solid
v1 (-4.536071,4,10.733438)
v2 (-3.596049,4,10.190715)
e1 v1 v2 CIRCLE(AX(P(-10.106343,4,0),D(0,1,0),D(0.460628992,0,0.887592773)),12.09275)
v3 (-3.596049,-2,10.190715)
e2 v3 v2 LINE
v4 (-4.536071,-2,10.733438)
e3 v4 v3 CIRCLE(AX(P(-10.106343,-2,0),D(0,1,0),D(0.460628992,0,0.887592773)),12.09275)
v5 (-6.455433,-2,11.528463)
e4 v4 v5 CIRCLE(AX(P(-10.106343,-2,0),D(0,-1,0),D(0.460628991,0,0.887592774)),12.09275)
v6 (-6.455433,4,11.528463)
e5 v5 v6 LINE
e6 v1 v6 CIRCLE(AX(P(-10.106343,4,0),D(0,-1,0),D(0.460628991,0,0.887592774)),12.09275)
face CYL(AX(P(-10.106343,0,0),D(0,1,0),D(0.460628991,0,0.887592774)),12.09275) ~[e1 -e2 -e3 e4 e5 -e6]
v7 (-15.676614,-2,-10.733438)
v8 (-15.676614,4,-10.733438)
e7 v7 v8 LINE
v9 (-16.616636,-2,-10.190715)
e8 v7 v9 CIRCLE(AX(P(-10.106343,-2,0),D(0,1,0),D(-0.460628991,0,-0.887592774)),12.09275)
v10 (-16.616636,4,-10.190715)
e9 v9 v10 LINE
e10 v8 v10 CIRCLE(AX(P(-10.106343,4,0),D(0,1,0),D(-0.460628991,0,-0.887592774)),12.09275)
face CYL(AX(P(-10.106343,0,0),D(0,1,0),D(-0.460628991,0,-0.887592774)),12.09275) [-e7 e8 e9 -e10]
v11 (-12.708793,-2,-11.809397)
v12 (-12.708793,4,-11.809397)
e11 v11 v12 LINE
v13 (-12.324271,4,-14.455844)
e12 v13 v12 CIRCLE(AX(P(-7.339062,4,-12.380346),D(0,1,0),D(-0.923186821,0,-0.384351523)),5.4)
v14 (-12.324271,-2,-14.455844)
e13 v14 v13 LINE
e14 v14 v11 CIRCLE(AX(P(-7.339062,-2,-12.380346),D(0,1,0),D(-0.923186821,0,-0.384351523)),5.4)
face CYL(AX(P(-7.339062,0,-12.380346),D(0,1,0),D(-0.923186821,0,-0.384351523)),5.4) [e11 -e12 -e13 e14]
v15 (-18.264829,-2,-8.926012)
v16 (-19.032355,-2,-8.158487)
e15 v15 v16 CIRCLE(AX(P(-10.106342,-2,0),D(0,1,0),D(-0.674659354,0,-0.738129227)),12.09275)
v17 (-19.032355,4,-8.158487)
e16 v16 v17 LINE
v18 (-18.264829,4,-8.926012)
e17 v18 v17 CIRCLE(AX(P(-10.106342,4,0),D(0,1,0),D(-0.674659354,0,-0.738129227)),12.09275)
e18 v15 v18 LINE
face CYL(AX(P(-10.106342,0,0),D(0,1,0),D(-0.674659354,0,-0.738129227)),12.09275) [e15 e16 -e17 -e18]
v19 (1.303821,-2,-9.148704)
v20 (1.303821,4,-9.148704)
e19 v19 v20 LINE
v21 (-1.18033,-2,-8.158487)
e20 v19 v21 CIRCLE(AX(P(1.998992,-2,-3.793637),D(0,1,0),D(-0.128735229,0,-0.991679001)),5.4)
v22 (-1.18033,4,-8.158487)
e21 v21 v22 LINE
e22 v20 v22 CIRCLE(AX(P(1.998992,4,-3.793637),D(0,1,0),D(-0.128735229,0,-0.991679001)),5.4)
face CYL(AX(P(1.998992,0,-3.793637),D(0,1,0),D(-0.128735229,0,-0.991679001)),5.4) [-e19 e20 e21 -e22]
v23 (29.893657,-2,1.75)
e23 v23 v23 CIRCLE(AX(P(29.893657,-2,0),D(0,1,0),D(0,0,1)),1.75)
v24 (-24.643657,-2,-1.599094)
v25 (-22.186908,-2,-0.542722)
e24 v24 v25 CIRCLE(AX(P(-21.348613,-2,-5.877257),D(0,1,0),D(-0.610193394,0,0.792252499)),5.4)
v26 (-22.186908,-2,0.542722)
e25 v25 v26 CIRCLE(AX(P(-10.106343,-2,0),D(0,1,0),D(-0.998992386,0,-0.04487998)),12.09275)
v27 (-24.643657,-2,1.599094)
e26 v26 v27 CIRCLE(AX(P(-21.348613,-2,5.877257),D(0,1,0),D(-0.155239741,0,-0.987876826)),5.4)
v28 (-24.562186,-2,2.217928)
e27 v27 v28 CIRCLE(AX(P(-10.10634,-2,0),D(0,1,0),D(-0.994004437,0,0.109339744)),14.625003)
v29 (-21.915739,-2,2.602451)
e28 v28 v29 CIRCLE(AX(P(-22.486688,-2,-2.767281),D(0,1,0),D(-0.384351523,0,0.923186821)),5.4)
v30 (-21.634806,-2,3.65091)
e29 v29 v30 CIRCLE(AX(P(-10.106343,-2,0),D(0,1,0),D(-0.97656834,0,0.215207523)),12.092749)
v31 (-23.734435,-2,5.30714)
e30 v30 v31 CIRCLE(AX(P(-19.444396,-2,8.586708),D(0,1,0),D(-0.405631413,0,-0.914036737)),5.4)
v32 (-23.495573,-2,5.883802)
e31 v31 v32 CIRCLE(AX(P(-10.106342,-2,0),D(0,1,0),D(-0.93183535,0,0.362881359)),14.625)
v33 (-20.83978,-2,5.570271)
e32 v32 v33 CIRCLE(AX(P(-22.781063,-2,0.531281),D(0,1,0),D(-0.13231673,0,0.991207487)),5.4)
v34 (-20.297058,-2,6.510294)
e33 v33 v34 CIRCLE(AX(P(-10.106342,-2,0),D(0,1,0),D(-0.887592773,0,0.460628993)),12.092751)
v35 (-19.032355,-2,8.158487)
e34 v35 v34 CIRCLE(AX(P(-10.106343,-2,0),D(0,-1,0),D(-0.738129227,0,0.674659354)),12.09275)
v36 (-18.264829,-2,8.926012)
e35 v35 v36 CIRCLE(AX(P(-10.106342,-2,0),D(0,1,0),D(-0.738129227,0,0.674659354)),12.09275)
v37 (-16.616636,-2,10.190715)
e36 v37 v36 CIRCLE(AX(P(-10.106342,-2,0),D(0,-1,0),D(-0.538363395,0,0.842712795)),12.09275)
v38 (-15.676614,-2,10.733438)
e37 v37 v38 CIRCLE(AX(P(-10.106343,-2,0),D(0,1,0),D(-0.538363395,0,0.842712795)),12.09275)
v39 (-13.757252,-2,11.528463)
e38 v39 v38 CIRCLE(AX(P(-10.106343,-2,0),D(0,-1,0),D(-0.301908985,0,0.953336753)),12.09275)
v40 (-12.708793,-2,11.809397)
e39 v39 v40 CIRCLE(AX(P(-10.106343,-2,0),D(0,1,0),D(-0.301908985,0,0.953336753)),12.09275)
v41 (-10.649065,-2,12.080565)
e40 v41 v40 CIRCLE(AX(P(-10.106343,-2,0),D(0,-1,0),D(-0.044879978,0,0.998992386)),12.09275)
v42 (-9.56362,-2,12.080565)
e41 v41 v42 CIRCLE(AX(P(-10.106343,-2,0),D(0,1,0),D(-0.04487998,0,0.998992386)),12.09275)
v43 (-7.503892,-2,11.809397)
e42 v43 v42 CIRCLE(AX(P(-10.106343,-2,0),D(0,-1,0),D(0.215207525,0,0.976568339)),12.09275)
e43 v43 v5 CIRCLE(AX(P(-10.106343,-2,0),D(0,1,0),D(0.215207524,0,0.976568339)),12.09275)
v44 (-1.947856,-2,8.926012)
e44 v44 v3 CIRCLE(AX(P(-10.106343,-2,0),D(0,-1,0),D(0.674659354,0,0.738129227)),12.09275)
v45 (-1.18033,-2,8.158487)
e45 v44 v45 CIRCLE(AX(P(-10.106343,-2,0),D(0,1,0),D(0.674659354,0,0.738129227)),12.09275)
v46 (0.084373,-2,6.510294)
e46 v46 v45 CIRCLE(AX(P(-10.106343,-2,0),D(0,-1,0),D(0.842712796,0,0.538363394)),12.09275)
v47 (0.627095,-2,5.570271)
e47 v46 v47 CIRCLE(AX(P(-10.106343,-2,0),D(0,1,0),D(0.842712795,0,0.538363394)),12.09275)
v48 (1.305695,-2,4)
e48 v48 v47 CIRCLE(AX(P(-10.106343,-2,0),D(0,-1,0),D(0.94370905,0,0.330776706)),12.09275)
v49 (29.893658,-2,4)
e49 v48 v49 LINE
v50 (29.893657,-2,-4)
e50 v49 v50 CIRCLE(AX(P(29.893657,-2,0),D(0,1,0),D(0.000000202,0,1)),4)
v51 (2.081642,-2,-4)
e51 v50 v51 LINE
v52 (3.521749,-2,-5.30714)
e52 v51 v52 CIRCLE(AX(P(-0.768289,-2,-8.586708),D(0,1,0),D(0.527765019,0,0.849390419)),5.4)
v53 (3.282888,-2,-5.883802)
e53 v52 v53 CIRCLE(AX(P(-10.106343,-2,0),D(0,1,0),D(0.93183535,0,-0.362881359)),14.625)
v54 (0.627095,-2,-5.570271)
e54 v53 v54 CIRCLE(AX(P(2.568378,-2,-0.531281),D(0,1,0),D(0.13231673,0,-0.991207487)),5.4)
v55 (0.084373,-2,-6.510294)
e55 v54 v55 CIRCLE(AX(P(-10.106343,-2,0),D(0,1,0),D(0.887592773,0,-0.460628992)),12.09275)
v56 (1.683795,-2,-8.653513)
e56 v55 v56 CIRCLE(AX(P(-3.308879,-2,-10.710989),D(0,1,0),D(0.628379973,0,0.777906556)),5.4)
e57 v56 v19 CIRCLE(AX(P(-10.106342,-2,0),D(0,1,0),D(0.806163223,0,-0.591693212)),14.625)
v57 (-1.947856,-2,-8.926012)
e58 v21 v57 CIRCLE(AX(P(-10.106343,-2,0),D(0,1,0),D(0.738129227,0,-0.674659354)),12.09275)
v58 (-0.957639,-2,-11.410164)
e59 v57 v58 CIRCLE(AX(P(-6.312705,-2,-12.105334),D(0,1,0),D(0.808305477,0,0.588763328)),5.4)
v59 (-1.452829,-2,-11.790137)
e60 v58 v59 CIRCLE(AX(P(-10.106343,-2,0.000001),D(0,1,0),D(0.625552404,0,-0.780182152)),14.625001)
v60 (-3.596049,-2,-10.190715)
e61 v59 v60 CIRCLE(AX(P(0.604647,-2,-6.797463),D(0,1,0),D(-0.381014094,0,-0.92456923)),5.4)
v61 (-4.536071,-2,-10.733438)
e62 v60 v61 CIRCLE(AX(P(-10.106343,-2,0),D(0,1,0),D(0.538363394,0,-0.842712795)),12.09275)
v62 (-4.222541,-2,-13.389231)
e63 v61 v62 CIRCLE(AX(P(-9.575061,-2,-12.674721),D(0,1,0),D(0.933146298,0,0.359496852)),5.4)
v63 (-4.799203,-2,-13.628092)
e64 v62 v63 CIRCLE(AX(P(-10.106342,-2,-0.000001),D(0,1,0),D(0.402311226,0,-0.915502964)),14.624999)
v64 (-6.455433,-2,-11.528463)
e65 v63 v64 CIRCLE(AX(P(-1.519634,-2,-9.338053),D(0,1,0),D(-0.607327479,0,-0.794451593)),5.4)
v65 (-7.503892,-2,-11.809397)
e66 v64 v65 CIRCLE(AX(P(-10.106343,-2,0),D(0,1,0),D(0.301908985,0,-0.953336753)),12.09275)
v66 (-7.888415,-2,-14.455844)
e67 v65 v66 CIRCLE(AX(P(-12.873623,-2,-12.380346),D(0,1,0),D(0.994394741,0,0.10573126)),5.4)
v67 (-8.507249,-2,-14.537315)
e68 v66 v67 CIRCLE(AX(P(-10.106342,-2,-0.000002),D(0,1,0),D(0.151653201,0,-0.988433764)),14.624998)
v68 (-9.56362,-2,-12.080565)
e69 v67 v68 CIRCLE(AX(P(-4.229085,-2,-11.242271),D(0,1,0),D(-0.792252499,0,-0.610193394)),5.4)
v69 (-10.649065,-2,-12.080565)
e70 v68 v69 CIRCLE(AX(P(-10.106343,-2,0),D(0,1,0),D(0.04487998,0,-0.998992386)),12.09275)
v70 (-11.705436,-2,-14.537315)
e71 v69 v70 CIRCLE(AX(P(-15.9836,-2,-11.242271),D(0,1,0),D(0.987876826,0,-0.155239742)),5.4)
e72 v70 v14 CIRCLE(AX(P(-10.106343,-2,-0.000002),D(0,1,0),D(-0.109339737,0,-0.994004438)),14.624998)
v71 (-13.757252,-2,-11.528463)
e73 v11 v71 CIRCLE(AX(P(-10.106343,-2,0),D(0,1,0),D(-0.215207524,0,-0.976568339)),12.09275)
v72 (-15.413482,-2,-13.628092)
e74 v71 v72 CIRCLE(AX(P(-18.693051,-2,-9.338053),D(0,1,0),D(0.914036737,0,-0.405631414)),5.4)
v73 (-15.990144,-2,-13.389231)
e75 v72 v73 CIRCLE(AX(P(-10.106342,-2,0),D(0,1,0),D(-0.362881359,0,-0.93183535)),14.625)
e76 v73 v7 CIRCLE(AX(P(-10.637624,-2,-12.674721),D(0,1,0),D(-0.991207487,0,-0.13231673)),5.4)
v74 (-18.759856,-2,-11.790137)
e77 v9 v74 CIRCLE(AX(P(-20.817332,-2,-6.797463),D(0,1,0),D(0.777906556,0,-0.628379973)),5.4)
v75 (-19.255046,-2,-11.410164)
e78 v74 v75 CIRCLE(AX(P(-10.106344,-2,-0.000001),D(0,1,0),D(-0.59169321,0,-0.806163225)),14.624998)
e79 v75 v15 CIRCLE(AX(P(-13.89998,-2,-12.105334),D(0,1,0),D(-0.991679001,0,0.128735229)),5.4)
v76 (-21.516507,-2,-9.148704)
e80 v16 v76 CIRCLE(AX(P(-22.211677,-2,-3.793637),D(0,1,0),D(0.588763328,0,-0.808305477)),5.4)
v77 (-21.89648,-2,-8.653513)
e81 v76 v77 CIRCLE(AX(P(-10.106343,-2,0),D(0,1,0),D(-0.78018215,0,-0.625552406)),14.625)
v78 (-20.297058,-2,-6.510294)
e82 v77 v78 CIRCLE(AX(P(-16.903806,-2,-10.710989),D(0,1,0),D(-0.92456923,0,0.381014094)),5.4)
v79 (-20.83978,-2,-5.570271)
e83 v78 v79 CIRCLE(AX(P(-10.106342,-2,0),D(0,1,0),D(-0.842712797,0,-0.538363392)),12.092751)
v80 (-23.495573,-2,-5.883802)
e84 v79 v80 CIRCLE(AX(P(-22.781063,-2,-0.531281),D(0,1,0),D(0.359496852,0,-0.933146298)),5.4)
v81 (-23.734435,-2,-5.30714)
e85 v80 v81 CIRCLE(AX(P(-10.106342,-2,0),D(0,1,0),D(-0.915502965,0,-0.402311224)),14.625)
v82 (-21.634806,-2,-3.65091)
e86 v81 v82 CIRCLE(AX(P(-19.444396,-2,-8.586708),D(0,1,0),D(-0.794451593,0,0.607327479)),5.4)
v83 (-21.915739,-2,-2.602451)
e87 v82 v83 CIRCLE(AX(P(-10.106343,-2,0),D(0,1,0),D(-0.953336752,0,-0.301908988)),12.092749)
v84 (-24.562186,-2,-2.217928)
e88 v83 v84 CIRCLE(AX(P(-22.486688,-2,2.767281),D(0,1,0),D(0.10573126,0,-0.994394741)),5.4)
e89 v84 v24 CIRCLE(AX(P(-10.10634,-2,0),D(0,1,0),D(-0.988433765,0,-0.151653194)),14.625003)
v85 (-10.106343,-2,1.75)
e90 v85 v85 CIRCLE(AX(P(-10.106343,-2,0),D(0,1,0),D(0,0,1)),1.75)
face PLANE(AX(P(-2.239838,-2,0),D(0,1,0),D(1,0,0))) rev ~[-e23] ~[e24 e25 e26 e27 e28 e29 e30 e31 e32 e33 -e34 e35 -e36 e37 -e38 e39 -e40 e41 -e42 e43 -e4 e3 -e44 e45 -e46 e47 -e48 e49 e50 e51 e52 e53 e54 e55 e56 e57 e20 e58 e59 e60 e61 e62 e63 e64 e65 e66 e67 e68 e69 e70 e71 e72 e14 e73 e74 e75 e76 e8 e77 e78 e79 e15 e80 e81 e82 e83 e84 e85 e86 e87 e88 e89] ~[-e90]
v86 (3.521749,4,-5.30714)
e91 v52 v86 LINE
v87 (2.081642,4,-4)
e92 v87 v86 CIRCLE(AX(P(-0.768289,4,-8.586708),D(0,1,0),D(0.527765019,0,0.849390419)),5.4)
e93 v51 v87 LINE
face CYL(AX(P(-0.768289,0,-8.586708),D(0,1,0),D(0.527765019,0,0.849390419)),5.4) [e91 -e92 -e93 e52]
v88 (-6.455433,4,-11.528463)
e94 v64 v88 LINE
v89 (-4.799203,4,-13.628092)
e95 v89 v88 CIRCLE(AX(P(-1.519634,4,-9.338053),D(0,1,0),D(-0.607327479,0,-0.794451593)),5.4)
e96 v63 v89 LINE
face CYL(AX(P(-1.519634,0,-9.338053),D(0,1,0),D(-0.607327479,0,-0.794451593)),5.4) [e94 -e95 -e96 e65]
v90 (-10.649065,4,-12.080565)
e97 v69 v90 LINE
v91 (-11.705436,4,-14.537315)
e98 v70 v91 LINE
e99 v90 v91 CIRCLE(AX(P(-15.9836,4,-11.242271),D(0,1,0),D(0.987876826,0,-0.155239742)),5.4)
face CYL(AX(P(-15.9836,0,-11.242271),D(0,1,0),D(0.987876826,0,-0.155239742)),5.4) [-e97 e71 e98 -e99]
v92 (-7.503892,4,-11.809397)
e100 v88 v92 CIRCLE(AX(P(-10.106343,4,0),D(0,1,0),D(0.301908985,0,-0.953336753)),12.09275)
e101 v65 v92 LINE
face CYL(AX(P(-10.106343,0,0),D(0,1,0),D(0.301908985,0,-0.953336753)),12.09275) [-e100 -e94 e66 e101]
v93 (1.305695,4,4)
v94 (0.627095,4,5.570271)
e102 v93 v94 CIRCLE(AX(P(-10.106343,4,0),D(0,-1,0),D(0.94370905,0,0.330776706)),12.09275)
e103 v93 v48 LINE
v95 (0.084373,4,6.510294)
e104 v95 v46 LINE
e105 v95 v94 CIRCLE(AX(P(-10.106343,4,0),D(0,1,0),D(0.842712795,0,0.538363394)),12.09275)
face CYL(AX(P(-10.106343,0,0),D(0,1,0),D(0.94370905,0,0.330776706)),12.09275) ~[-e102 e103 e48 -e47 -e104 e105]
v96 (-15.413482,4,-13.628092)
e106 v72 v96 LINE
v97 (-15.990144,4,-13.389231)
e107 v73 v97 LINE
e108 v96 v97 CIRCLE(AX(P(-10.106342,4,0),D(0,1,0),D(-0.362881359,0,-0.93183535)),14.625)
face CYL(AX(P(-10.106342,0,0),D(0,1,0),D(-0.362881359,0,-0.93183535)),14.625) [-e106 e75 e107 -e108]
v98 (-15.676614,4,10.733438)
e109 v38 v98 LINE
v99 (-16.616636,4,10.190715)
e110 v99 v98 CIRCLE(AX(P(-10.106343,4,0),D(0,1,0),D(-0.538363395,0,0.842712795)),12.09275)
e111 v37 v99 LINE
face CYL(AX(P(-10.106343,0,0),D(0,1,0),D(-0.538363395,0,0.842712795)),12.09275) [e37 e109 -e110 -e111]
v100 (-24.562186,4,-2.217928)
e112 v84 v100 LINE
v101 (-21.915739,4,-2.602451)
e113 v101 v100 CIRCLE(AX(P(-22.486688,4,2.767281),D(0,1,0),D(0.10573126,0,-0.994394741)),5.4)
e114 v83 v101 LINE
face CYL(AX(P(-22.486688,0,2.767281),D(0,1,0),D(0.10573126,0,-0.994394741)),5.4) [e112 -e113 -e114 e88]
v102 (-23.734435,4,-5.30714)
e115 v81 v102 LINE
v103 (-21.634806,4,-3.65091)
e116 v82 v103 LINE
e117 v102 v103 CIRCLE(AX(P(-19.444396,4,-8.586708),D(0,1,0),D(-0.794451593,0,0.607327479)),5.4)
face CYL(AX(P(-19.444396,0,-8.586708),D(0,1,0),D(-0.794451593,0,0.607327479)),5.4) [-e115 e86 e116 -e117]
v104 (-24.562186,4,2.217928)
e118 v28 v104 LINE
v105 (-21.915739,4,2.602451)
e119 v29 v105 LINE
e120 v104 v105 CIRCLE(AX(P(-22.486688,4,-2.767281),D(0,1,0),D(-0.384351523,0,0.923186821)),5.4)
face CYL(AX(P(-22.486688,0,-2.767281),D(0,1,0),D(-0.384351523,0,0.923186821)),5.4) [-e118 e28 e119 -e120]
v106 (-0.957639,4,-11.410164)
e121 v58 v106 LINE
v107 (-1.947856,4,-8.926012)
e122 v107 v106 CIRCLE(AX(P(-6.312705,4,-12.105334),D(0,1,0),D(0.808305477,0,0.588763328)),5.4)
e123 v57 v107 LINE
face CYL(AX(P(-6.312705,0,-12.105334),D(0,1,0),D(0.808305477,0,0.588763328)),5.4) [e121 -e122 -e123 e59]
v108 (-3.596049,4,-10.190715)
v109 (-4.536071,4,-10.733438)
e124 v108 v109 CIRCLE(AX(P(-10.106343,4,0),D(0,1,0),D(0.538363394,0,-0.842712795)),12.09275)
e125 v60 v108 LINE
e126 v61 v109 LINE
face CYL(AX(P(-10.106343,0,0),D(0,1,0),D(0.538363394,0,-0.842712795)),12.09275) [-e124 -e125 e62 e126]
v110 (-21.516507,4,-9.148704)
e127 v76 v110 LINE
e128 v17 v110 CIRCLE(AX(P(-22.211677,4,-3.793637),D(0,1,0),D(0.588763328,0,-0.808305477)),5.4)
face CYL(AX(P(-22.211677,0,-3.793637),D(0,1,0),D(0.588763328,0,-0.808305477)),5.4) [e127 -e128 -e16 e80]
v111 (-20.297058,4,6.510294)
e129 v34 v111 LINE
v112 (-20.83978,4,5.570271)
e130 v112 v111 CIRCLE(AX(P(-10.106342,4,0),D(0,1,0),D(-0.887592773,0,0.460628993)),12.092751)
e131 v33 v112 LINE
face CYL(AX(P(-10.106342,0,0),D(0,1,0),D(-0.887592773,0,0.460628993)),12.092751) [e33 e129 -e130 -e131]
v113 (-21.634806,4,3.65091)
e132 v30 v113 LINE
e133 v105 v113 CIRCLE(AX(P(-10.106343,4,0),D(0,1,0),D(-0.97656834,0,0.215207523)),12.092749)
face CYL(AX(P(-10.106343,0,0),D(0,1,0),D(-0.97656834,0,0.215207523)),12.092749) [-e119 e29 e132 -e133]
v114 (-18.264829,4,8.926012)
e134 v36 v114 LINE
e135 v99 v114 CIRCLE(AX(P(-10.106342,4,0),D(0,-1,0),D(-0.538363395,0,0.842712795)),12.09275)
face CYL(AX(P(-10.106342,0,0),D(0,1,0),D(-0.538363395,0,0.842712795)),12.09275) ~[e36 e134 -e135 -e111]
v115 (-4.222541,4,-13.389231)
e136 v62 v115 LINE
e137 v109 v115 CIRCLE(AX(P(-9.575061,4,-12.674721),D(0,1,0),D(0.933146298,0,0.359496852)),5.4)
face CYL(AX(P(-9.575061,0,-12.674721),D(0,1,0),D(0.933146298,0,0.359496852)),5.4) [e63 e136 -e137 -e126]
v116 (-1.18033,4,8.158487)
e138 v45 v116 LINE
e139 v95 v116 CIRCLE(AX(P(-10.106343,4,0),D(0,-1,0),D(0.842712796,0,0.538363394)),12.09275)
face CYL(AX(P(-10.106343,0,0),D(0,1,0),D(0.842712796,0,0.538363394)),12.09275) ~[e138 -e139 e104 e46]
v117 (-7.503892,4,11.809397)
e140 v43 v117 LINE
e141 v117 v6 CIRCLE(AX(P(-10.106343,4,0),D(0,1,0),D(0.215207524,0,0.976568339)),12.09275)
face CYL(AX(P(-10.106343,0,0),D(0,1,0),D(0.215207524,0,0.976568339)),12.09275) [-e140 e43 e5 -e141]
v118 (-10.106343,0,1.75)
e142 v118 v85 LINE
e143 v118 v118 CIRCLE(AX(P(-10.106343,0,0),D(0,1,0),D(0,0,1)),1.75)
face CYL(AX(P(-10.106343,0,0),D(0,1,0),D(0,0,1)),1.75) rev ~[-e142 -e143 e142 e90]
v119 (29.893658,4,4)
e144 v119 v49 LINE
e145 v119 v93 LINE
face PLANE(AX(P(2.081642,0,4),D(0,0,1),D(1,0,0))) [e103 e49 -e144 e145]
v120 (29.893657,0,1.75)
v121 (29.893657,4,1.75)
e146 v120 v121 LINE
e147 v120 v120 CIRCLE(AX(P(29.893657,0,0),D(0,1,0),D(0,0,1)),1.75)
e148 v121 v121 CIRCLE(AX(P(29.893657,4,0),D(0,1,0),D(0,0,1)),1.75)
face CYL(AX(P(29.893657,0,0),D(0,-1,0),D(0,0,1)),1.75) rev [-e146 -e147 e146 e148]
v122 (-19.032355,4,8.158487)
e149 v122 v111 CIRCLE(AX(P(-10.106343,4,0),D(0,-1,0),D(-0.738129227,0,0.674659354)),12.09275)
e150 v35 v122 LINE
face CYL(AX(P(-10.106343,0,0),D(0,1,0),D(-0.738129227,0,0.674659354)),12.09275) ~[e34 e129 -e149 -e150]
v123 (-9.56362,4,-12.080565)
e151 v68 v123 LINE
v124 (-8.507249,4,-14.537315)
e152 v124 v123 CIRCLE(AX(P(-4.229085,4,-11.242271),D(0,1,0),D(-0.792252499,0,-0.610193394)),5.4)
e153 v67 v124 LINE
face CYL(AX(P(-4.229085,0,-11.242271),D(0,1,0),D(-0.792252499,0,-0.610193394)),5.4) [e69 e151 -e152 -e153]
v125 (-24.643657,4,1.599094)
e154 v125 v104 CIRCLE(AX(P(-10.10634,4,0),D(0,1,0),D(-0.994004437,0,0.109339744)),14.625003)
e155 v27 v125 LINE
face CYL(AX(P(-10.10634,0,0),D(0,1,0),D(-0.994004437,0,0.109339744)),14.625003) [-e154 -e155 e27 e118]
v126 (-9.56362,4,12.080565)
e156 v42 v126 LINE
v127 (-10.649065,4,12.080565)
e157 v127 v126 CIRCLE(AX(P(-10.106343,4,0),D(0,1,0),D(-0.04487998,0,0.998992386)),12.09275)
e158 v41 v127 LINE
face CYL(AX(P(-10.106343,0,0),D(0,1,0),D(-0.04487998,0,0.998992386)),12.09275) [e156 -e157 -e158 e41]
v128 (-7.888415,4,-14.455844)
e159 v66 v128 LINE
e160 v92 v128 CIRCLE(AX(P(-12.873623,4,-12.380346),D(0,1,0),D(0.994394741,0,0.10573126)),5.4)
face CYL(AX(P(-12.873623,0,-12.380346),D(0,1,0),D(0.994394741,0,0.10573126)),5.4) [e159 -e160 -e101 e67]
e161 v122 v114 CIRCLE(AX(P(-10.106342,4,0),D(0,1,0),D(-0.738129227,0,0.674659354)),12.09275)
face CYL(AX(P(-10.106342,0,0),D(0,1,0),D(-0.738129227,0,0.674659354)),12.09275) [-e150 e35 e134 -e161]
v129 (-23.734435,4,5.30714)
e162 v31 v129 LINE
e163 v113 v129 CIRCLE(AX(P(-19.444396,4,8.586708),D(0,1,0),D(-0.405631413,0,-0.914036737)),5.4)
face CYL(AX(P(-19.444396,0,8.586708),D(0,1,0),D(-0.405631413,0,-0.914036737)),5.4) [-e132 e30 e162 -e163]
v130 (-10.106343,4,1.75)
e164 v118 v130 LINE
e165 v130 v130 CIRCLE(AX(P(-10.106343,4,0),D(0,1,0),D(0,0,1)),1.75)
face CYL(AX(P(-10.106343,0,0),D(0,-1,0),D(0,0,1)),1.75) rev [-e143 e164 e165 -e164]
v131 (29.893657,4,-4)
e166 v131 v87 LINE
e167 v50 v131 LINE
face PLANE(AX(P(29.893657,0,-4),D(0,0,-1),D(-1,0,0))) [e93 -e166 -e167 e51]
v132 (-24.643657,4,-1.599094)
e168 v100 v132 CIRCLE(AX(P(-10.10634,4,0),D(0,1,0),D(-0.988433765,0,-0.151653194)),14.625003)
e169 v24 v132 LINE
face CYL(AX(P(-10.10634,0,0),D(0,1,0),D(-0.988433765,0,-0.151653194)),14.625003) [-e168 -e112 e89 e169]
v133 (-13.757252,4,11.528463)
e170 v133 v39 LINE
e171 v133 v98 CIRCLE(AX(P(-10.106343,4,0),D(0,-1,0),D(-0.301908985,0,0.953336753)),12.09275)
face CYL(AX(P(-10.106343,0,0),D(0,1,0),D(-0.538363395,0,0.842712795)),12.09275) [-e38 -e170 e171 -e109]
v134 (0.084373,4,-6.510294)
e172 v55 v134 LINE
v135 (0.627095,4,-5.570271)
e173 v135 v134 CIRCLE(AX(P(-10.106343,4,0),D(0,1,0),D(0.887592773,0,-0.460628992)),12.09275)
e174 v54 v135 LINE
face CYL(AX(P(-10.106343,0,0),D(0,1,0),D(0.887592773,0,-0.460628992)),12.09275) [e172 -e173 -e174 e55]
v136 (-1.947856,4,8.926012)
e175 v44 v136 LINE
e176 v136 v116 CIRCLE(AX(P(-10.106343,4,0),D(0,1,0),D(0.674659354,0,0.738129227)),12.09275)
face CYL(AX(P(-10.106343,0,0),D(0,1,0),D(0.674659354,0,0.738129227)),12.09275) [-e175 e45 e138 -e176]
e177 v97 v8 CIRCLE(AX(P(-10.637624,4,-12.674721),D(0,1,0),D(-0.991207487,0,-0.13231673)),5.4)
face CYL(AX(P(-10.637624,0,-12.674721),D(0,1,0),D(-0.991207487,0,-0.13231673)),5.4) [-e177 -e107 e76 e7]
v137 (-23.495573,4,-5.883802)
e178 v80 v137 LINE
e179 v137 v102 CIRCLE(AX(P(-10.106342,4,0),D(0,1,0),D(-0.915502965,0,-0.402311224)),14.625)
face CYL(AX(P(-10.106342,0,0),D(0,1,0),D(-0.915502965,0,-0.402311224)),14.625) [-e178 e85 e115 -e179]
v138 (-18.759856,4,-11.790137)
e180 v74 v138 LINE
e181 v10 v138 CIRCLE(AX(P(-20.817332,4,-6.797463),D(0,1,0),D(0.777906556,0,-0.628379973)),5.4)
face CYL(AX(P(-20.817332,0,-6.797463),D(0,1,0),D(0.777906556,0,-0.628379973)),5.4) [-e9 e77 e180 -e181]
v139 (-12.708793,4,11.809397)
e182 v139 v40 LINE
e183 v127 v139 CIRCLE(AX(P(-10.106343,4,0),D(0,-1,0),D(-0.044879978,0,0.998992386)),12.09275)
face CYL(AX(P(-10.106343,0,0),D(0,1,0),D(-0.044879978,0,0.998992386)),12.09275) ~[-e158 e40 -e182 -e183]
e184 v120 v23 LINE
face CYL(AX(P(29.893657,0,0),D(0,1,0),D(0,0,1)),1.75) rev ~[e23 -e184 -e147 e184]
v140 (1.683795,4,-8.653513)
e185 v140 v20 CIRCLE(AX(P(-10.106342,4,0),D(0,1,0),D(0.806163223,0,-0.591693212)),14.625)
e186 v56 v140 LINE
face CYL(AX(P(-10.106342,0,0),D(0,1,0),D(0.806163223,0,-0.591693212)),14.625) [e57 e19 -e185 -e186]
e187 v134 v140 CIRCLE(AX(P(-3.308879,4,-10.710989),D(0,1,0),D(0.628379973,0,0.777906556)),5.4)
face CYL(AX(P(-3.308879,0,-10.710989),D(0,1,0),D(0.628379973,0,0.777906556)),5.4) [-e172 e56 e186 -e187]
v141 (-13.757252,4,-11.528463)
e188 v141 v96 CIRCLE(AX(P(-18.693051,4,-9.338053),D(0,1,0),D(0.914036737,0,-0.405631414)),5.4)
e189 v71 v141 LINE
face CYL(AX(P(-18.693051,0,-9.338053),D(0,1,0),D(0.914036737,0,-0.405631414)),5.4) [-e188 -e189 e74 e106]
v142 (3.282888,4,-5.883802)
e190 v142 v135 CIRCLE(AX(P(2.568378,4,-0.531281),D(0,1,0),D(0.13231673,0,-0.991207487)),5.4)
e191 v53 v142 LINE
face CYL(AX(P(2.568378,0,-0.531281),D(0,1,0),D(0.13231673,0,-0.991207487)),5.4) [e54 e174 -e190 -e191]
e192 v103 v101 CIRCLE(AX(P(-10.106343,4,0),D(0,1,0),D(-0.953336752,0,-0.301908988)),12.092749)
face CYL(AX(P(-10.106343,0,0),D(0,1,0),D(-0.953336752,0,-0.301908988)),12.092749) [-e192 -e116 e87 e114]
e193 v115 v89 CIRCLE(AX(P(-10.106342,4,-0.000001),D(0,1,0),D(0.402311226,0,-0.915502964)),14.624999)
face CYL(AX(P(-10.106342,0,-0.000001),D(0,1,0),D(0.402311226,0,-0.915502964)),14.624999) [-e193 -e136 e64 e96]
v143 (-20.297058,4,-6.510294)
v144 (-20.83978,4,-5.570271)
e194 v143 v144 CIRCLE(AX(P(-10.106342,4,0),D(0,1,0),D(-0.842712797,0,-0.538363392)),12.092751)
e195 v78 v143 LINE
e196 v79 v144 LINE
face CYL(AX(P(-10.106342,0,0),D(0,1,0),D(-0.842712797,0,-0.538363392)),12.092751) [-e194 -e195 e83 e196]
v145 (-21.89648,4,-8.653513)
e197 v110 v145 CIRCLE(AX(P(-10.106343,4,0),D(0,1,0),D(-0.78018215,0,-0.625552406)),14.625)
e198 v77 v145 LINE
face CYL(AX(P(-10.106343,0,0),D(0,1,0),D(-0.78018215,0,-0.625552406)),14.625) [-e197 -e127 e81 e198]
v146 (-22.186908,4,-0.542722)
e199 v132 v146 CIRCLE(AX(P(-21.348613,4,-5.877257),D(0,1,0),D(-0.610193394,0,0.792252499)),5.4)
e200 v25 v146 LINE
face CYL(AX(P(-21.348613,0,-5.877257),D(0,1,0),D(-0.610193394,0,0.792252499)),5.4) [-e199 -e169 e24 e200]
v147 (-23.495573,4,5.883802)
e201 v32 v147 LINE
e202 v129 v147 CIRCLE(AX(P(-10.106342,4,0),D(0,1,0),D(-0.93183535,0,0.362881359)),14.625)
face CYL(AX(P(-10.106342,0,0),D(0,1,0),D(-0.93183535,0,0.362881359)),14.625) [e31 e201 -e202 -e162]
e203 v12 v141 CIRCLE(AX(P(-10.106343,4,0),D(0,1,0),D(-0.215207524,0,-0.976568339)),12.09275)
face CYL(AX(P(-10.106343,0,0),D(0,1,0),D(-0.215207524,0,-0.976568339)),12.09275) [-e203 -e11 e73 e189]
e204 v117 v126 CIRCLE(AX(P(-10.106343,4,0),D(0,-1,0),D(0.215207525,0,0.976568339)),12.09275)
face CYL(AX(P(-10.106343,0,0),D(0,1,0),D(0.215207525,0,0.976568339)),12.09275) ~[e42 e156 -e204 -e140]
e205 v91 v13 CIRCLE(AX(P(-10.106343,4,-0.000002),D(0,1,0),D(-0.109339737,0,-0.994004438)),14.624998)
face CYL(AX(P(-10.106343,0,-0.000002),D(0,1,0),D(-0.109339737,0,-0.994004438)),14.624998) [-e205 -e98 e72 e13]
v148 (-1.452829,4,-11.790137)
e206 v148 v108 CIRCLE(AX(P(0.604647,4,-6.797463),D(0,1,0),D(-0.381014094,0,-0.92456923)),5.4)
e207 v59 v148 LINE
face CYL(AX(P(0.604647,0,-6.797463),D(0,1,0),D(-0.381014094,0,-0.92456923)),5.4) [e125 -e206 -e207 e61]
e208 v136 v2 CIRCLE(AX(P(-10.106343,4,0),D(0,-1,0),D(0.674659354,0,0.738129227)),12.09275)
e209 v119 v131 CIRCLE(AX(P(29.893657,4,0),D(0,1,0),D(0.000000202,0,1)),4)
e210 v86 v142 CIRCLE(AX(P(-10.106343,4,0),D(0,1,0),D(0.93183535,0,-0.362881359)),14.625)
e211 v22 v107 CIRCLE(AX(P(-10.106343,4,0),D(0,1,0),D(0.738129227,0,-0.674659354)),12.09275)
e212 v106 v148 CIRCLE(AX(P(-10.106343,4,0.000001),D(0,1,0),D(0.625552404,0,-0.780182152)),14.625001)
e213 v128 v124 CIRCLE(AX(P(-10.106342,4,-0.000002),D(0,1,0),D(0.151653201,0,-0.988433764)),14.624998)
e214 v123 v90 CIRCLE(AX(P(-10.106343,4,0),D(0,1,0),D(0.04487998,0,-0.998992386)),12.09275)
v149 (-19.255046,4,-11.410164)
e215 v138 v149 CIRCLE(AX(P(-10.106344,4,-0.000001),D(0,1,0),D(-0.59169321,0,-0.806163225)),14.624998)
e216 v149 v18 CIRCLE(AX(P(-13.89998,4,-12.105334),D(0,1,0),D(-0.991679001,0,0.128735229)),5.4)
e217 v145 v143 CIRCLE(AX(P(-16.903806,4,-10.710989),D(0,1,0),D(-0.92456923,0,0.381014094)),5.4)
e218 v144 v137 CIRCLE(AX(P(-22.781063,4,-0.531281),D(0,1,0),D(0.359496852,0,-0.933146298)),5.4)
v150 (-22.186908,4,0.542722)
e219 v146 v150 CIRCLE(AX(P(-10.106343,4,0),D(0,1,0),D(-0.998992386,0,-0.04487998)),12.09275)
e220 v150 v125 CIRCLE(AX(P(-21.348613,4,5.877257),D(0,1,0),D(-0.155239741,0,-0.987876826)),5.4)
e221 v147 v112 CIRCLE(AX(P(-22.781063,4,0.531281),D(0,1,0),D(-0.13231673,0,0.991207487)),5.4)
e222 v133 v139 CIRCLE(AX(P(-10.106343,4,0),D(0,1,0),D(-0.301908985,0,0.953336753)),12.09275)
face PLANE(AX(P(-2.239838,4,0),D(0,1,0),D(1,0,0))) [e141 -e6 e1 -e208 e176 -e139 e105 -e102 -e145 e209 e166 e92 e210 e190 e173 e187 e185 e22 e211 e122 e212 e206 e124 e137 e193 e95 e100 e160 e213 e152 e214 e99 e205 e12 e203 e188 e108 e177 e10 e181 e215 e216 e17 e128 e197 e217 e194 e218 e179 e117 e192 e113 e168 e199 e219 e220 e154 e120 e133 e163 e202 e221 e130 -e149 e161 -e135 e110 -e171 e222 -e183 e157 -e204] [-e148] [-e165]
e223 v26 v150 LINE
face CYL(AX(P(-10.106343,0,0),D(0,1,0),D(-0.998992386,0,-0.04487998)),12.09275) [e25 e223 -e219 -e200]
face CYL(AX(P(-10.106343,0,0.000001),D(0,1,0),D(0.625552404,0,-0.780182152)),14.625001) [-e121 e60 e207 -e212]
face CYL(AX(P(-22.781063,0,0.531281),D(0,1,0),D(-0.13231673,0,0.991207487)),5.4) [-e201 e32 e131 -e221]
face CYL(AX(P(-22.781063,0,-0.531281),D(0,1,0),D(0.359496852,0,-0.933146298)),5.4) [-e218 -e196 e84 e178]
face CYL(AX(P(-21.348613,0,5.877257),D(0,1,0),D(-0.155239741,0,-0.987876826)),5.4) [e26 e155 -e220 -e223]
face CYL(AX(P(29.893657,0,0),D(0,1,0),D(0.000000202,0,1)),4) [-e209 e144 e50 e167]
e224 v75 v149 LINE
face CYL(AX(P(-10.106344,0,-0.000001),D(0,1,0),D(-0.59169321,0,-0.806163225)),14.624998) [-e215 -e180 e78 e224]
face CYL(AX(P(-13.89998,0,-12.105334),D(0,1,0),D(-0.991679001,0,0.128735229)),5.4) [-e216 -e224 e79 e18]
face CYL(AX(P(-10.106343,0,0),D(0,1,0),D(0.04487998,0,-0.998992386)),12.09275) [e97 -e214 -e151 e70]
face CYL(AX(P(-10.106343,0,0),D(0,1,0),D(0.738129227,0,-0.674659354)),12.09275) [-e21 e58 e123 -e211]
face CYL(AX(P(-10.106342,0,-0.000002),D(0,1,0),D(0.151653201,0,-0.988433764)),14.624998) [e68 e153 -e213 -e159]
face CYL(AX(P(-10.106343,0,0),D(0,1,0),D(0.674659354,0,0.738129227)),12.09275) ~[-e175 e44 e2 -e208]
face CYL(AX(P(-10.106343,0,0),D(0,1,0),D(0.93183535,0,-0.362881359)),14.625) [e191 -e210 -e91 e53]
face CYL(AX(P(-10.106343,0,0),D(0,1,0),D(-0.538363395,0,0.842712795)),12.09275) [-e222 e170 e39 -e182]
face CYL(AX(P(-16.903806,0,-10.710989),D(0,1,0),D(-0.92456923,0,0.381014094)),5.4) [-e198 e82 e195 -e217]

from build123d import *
from build123d.topology import SkipClean

# Parameters (mm, degrees)
SKETCH1_R           = 1.75
BOSS_EXTRUDE1_DEPTH = 4
CUT_EXTRUDE1_START  = -10
CUT_EXTRUDE1_DEPTH  = 10
MOVE_FACE1_BY       = 2


with BuildPart() as part:
    # Sketch1 → Boss-Extrude1 (new body)
    with BuildSketch(Plane(origin=(0, 0, 0), x_dir=(1, 0, 0), z_dir=(0, 1, 0))):
        with BuildLine():
            Line((29.893657446, 4), (2.081641936, 4))
            ThreePointArc((2.081641936, 4), (2.861028333, 4.588201733), (3.521749436, 5.30713988))
            ThreePointArc((3.521749436, 5.30713988), (3.405395609, 5.596745198), (3.282888305, 5.883801663))
            ThreePointArc((3.282888305, 5.883801663), (1.93527598, 5.894040025), (0.627094961, 5.57027124))
            ThreePointArc((0.627094961, 5.57027124), (0.366286148, 6.046375), (0.084372603, 6.510293938))
            ThreePointArc((0.084372603, 6.510293938), (1.018855105, 7.48132754), (1.683794586, 8.65351323))
            ThreePointArc((1.683794586, 8.65351323), (1.496450048, 8.903135899), (1.303821399, 9.148703928))
            ThreePointArc((1.303821399, 9.148703928), (-0.000522033, 8.809805691), (-1.180330337, 8.158486898))
            ThreePointArc((-1.180330337, 8.158486898), (-1.555477026, 8.550865528), (-1.947855656, 8.926012217))
            ThreePointArc((-1.947855656, 8.926012217), (-1.296536862, 10.105820521), (-0.957638625, 11.410163953))
            ThreePointArc((-0.957638625, 11.410163953), (-1.203206655, 11.602792602), (-1.452829324, 11.79013714))
            ThreePointArc((-1.452829324, 11.79013714), (-2.625015014, 11.125197659), (-3.596048616, 10.190715157))
            ThreePointArc((-3.596048616, 10.190715157), (-4.059967554, 10.472628702), (-4.536071314, 10.733437515))
            ThreePointArc((-4.536071314, 10.733437515), (-4.212302529, 12.041618533), (-4.222540891, 13.389230859))
            ThreePointArc((-4.222540891, 13.389230859), (-4.509597355, 13.511738163), (-4.799202674, 13.62809199))
            ThreePointArc((-4.799202674, 13.62809199), (-5.759348103, 12.682425791), (-6.455432668, 11.528463019))
            ThreePointArc((-6.455432668, 11.528463019), (-6.976508546, 11.680699536), (-7.503891752, 11.809396783))
            ThreePointArc((-7.503891752, 11.809396783), (-7.529737283, 13.156800143), (-7.888414517, 14.455843809))
            ThreePointArc((-7.888414517, 14.455843809), (-8.197396993, 14.499881098), (-8.507248835, 14.537314892))
            ThreePointArc((-8.507248835, 14.537314892), (-9.18992168, 13.375367565), (-9.563620196, 12.080565177))
            ThreePointArc((-9.563620196, 12.080565177), (-10.106342554, 12.09275), (-10.649064912, 12.080565177))
            ThreePointArc((-10.649064912, 12.080565177), (-11.022763428, 13.375367565), (-11.705436272, 14.537314892))
            ThreePointArc((-11.705436272, 14.537314892), (-12.015288115, 14.499881098), (-12.324270591, 14.455843809))
            ThreePointArc((-12.324270591, 14.455843809), (-12.682947825, 13.156800143), (-12.708793355, 11.809396783))
            ThreePointArc((-12.708793355, 11.809396783), (-13.236176561, 11.680699536), (-13.757252439, 11.528463019))
            ThreePointArc((-13.757252439, 11.528463019), (-14.453337005, 12.682425791), (-15.413482434, 13.62809199))
            ThreePointArc((-15.413482434, 13.62809199), (-15.703087752, 13.511738163), (-15.990144217, 13.389230859))
            ThreePointArc((-15.990144217, 13.389230859), (-16.000382579, 12.041618533), (-15.676613793, 10.733437515))
            ThreePointArc((-15.676613793, 10.733437515), (-16.152717554, 10.472628702), (-16.616636492, 10.190715157))
            ThreePointArc((-16.616636492, 10.190715157), (-17.587670094, 11.125197659), (-18.759855783, 11.79013714))
            ThreePointArc((-18.759855783, 11.79013714), (-19.009478453, 11.602792602), (-19.255046482, 11.410163953))
            ThreePointArc((-19.255046482, 11.410163953), (-18.916148245, 10.105820521), (-18.264829452, 8.926012217))
            ThreePointArc((-18.264829452, 8.926012217), (-18.657208082, 8.550865528), (-19.032354771, 8.158486898))
            ThreePointArc((-19.032354771, 8.158486898), (-20.212163074, 8.809805691), (-21.516506507, 9.148703928))
            ThreePointArc((-21.516506507, 9.148703928), (-21.709135156, 8.903135899), (-21.896479694, 8.65351323))
            ThreePointArc((-21.896479694, 8.65351323), (-21.231540213, 7.48132754), (-20.297057711, 6.510293938))
            ThreePointArc((-20.297057711, 6.510293938), (-20.578971255, 6.046375), (-20.839780068, 5.57027124))
            ThreePointArc((-20.839780068, 5.57027124), (-22.147961087, 5.894040025), (-23.495573413, 5.883801663))
            ThreePointArc((-23.495573413, 5.883801663), (-23.618080717, 5.596745198), (-23.734434544, 5.30713988))
            ThreePointArc((-23.734434544, 5.30713988), (-22.788768345, 4.346994451), (-21.634805572, 3.650909885))
            ThreePointArc((-21.634805572, 3.650909885), (-21.78704209, 3.129834008), (-21.915739337, 2.602450802))
            ThreePointArc((-21.915739337, 2.602450802), (-23.263142697, 2.576605271), (-24.562186363, 2.217928037))
            ThreePointArc((-24.562186363, 2.217928037), (-24.606223651, 1.908945561), (-24.643657446, 1.599093719))
            ThreePointArc((-24.643657446, 1.599093719), (-23.481710119, 0.916420874), (-22.186907731, 0.542722358))
            ThreePointArc((-22.186907731, 0.542722358), (-22.199092554, 0), (-22.186907731, -0.542722358))
            ThreePointArc((-22.186907731, -0.542722358), (-23.481710119, -0.916420874), (-24.643657446, -1.599093719))
            ThreePointArc((-24.643657446, -1.599093719), (-24.606223651, -1.908945561), (-24.562186363, -2.217928037))
            ThreePointArc((-24.562186363, -2.217928037), (-23.263142697, -2.576605271), (-21.915739337, -2.602450802))
            ThreePointArc((-21.915739337, -2.602450802), (-21.78704209, -3.129834008), (-21.634805572, -3.650909885))
            ThreePointArc((-21.634805572, -3.650909885), (-22.788768345, -4.346994451), (-23.734434544, -5.30713988))
            ThreePointArc((-23.734434544, -5.30713988), (-23.618080717, -5.596745198), (-23.495573413, -5.883801663))
            ThreePointArc((-23.495573413, -5.883801663), (-22.147961087, -5.894040025), (-20.839780068, -5.57027124))
            ThreePointArc((-20.839780068, -5.57027124), (-20.578971255, -6.046375), (-20.297057711, -6.510293938))
            ThreePointArc((-20.297057711, -6.510293938), (-21.231540213, -7.48132754), (-21.896479694, -8.65351323))
            ThreePointArc((-21.896479694, -8.65351323), (-21.709135156, -8.903135899), (-21.516506507, -9.148703928))
            ThreePointArc((-21.516506507, -9.148703928), (-20.212163074, -8.809805691), (-19.032354771, -8.158486898))
            ThreePointArc((-19.032354771, -8.158486898), (-18.657208082, -8.550865528), (-18.264829452, -8.926012217))
            ThreePointArc((-18.264829452, -8.926012217), (-18.916148245, -10.105820521), (-19.255046482, -11.410163953))
            ThreePointArc((-19.255046482, -11.410163953), (-19.009478453, -11.602792602), (-18.759855783, -11.79013714))
            ThreePointArc((-18.759855783, -11.79013714), (-17.587670094, -11.125197659), (-16.616636492, -10.190715157))
            ThreePointArc((-16.616636492, -10.190715157), (-16.152717554, -10.472628702), (-15.676613793, -10.733437515))
            ThreePointArc((-15.676613793, -10.733437515), (-16.000382579, -12.041618533), (-15.990144217, -13.389230859))
            ThreePointArc((-15.990144217, -13.389230859), (-15.703087752, -13.511738163), (-15.413482434, -13.62809199))
            ThreePointArc((-15.413482434, -13.62809199), (-14.453337005, -12.682425791), (-13.757252439, -11.528463019))
            ThreePointArc((-13.757252439, -11.528463019), (-13.236176561, -11.680699536), (-12.708793355, -11.809396783))
            ThreePointArc((-12.708793355, -11.809396783), (-12.682947825, -13.156800143), (-12.324270591, -14.455843809))
            ThreePointArc((-12.324270591, -14.455843809), (-12.015288115, -14.499881098), (-11.705436272, -14.537314892))
            ThreePointArc((-11.705436272, -14.537314892), (-11.022763428, -13.375367565), (-10.649064912, -12.080565177))
            ThreePointArc((-10.649064912, -12.080565177), (-10.106342554, -12.09275), (-9.563620196, -12.080565177))
            ThreePointArc((-9.563620196, -12.080565177), (-9.18992168, -13.375367565), (-8.507248835, -14.537314892))
            ThreePointArc((-8.507248835, -14.537314892), (-8.197396993, -14.499881098), (-7.888414517, -14.455843809))
            ThreePointArc((-7.888414517, -14.455843809), (-7.529737283, -13.156800143), (-7.503891752, -11.809396783))
            ThreePointArc((-7.503891752, -11.809396783), (-6.976508546, -11.680699536), (-6.455432668, -11.528463019))
            ThreePointArc((-6.455432668, -11.528463019), (-5.759348103, -12.682425791), (-4.799202674, -13.62809199))
            ThreePointArc((-4.799202674, -13.62809199), (-4.509597355, -13.511738163), (-4.222540891, -13.389230859))
            ThreePointArc((-4.222540891, -13.389230859), (-4.212302529, -12.041618533), (-4.536071314, -10.733437515))
            ThreePointArc((-4.536071314, -10.733437515), (-4.059967554, -10.472628702), (-3.596048616, -10.190715157))
            ThreePointArc((-3.596048616, -10.190715157), (-2.625015014, -11.125197659), (-1.452829324, -11.79013714))
            ThreePointArc((-1.452829324, -11.79013714), (-1.203206655, -11.602792602), (-0.957638625, -11.410163953))
            ThreePointArc((-0.957638625, -11.410163953), (-1.296536862, -10.105820521), (-1.947855656, -8.926012217))
            ThreePointArc((-1.947855656, -8.926012217), (-1.555477026, -8.550865528), (-1.180330337, -8.158486898))
            ThreePointArc((-1.180330337, -8.158486898), (-0.000522033, -8.809805691), (1.303821399, -9.148703928))
            ThreePointArc((1.303821399, -9.148703928), (1.496450048, -8.903135899), (1.683794586, -8.65351323))
            ThreePointArc((1.683794586, -8.65351323), (1.018855105, -7.48132754), (0.084372603, -6.510293938))
            ThreePointArc((0.084372603, -6.510293938), (0.366286148, -6.046375), (0.627094961, -5.57027124))
            ThreePointArc((0.627094961, -5.57027124), (1.93527598, -5.894040025), (3.282888305, -5.883801663))
            ThreePointArc((3.282888305, -5.883801663), (3.405395609, -5.596745198), (3.521749436, -5.30713988))
            ThreePointArc((3.521749436, -5.30713988), (2.861028333, -4.588201733), (2.081641936, -4))
            Line((2.081641936, -4), (29.893658255, -4))
            ThreePointArc((29.893658255, -4), (33.893657446, 4.04e-07), (29.893657446, 4))
        make_face()
        with Locations(Location((-10.106342554, 0, 0), (0, 0, 270))):
            Circle(SKETCH1_R, mode=Mode.SUBTRACT)
        with Locations(Location((29.893657446, 0, 0), (0, 0, 270))):
            Circle(SKETCH1_R, mode=Mode.SUBTRACT)
    extrude(amount=BOSS_EXTRUDE1_DEPTH)

    # Sketch2 → Cut-Extrude1 (cut)
    with SkipClean():  # the faces are left unmerged after this step: merging them gives an invalid solid
        with BuildSketch(Plane(origin=(0, 4, 0), x_dir=(1, 0, 0), z_dir=(0, 1, 0)).offset(CUT_EXTRUDE1_START)):
            with BuildLine():
                ThreePointArc((-21.516506507, -9.148703928), (-20.212163074, -8.809805691), (-19.032354771, -8.158486898))
                ThreePointArc((-19.032354771, -8.158486898), (-19.70016616, -7.361599771), (-20.297057711, -6.510293938))
                ThreePointArc((-20.297057711, -6.510293938), (-21.231540213, -7.48132754), (-21.896479694, -8.65351323))
                ThreePointArc((-21.896479694, -8.65351323), (-21.709135156, -8.903135899), (-21.516506507, -9.148703928))
            make_face()
            with BuildLine():
                ThreePointArc((-18.759855783, -11.79013714), (-17.587670094, -11.125197659), (-16.616636492, -10.190715157))
                ThreePointArc((-16.616636492, -10.190715157), (-17.467942324, -9.593823606), (-18.264829452, -8.926012217))
                ThreePointArc((-18.264829452, -8.926012217), (-18.916148245, -10.105820521), (-19.255046482, -11.410163953))
                ThreePointArc((-19.255046482, -11.410163953), (-19.009478453, -11.602792602), (-18.759855783, -11.79013714))
            make_face()
            with BuildLine():
                ThreePointArc((-15.413482434, -13.62809199), (-14.453337005, -12.682425791), (-13.757252439, -11.528463019))
                ThreePointArc((-13.757252439, -11.528463019), (-14.734037631, -11.172244217), (-15.676613793, -10.733437515))
                ThreePointArc((-15.676613793, -10.733437515), (-16.000382579, -12.041618533), (-15.990144217, -13.389230859))
                ThreePointArc((-15.990144217, -13.389230859), (-15.703087752, -13.511738163), (-15.413482434, -13.62809199))
            make_face()
            with BuildLine():
                ThreePointArc((-11.705436272, -14.537314892), (-11.022763428, -13.375367565), (-10.649064912, -12.080565177))
                ThreePointArc((-10.649064912, -12.080565177), (-11.684763165, -11.989294847), (-12.708793355, -11.809396783))
                ThreePointArc((-12.708793355, -11.809396783), (-12.682947825, -13.156800143), (-12.324270591, -14.455843809))
                ThreePointArc((-12.324270591, -14.455843809), (-12.015288115, -14.499881098), (-11.705436272, -14.537314892))
            make_face()
            with BuildLine():
                ThreePointArc((-7.888414517, -14.455843809), (-7.529737283, -13.156800143), (-7.503891752, -11.809396783))
                ThreePointArc((-7.503891752, -11.809396783), (-8.527921943, -11.989294847), (-9.563620196, -12.080565177))
                ThreePointArc((-9.563620196, -12.080565177), (-9.18992168, -13.375367565), (-8.507248835, -14.537314892))
                ThreePointArc((-8.507248835, -14.537314892), (-8.197396993, -14.499881098), (-7.888414517, -14.455843809))
            make_face()
            with BuildLine():
                ThreePointArc((-4.222540891, -13.389230859), (-4.212302529, -12.041618533), (-4.536071314, -10.733437515))
                ThreePointArc((-4.536071314, -10.733437515), (-5.478647477, -11.172244217), (-6.455432668, -11.528463019))
                ThreePointArc((-6.455432668, -11.528463019), (-5.759348103, -12.682425791), (-4.799202674, -13.62809199))
                ThreePointArc((-4.799202674, -13.62809199), (-4.509597355, -13.511738163), (-4.222540891, -13.389230859))
            make_face()
            with BuildLine():
                ThreePointArc((-0.957638625, -11.410163953), (-1.296536862, -10.105820521), (-1.947855656, -8.926012217))
                ThreePointArc((-1.947855656, -8.926012217), (-2.744742783, -9.593823606), (-3.596048616, -10.190715157))
                ThreePointArc((-3.596048616, -10.190715157), (-2.625015014, -11.125197659), (-1.452829324, -11.79013714))
                ThreePointArc((-1.452829324, -11.79013714), (-1.203206655, -11.602792602), (-0.957638625, -11.410163953))
            make_face()
            with BuildLine():
                ThreePointArc((1.683794586, -8.65351323), (1.018855105, -7.48132754), (0.084372603, -6.510293938))
                ThreePointArc((0.084372603, -6.510293938), (-0.512518948, -7.361599771), (-1.180330337, -8.158486898))
                ThreePointArc((-1.180330337, -8.158486898), (-0.000522033, -8.809805691), (1.303821399, -9.148703928))
                ThreePointArc((1.303821399, -9.148703928), (1.496450048, -8.903135899), (1.683794586, -8.65351323))
            make_face()
            with BuildLine():
                ThreePointArc((3.521749436, -5.30713988), (2.861028333, -4.588201733), (2.081641936, -4))
                Line((2.081641936, -4), (1.305695063, -4))
                ThreePointArc((1.305695063, -4), (0.994195953, -4.797149927), (0.627094961, -5.57027124))
                ThreePointArc((0.627094961, -5.57027124), (1.93527598, -5.894040025), (3.282888305, -5.883801663))
                ThreePointArc((3.282888305, -5.883801663), (3.405395609, -5.596745198), (3.521749436, -5.30713988))
            make_face()
        extrude(amount=CUT_EXTRUDE1_DEPTH, mode=Mode.SUBTRACT)

    # Move Face1: a face moved outward by 2.0
    extrude(part.faces().sort_by_distance((-1.561241714, 0, -0.498914488))[0], amount=MOVE_FACE1_BY, dir=(0, -1, 0))


solid = part.part
